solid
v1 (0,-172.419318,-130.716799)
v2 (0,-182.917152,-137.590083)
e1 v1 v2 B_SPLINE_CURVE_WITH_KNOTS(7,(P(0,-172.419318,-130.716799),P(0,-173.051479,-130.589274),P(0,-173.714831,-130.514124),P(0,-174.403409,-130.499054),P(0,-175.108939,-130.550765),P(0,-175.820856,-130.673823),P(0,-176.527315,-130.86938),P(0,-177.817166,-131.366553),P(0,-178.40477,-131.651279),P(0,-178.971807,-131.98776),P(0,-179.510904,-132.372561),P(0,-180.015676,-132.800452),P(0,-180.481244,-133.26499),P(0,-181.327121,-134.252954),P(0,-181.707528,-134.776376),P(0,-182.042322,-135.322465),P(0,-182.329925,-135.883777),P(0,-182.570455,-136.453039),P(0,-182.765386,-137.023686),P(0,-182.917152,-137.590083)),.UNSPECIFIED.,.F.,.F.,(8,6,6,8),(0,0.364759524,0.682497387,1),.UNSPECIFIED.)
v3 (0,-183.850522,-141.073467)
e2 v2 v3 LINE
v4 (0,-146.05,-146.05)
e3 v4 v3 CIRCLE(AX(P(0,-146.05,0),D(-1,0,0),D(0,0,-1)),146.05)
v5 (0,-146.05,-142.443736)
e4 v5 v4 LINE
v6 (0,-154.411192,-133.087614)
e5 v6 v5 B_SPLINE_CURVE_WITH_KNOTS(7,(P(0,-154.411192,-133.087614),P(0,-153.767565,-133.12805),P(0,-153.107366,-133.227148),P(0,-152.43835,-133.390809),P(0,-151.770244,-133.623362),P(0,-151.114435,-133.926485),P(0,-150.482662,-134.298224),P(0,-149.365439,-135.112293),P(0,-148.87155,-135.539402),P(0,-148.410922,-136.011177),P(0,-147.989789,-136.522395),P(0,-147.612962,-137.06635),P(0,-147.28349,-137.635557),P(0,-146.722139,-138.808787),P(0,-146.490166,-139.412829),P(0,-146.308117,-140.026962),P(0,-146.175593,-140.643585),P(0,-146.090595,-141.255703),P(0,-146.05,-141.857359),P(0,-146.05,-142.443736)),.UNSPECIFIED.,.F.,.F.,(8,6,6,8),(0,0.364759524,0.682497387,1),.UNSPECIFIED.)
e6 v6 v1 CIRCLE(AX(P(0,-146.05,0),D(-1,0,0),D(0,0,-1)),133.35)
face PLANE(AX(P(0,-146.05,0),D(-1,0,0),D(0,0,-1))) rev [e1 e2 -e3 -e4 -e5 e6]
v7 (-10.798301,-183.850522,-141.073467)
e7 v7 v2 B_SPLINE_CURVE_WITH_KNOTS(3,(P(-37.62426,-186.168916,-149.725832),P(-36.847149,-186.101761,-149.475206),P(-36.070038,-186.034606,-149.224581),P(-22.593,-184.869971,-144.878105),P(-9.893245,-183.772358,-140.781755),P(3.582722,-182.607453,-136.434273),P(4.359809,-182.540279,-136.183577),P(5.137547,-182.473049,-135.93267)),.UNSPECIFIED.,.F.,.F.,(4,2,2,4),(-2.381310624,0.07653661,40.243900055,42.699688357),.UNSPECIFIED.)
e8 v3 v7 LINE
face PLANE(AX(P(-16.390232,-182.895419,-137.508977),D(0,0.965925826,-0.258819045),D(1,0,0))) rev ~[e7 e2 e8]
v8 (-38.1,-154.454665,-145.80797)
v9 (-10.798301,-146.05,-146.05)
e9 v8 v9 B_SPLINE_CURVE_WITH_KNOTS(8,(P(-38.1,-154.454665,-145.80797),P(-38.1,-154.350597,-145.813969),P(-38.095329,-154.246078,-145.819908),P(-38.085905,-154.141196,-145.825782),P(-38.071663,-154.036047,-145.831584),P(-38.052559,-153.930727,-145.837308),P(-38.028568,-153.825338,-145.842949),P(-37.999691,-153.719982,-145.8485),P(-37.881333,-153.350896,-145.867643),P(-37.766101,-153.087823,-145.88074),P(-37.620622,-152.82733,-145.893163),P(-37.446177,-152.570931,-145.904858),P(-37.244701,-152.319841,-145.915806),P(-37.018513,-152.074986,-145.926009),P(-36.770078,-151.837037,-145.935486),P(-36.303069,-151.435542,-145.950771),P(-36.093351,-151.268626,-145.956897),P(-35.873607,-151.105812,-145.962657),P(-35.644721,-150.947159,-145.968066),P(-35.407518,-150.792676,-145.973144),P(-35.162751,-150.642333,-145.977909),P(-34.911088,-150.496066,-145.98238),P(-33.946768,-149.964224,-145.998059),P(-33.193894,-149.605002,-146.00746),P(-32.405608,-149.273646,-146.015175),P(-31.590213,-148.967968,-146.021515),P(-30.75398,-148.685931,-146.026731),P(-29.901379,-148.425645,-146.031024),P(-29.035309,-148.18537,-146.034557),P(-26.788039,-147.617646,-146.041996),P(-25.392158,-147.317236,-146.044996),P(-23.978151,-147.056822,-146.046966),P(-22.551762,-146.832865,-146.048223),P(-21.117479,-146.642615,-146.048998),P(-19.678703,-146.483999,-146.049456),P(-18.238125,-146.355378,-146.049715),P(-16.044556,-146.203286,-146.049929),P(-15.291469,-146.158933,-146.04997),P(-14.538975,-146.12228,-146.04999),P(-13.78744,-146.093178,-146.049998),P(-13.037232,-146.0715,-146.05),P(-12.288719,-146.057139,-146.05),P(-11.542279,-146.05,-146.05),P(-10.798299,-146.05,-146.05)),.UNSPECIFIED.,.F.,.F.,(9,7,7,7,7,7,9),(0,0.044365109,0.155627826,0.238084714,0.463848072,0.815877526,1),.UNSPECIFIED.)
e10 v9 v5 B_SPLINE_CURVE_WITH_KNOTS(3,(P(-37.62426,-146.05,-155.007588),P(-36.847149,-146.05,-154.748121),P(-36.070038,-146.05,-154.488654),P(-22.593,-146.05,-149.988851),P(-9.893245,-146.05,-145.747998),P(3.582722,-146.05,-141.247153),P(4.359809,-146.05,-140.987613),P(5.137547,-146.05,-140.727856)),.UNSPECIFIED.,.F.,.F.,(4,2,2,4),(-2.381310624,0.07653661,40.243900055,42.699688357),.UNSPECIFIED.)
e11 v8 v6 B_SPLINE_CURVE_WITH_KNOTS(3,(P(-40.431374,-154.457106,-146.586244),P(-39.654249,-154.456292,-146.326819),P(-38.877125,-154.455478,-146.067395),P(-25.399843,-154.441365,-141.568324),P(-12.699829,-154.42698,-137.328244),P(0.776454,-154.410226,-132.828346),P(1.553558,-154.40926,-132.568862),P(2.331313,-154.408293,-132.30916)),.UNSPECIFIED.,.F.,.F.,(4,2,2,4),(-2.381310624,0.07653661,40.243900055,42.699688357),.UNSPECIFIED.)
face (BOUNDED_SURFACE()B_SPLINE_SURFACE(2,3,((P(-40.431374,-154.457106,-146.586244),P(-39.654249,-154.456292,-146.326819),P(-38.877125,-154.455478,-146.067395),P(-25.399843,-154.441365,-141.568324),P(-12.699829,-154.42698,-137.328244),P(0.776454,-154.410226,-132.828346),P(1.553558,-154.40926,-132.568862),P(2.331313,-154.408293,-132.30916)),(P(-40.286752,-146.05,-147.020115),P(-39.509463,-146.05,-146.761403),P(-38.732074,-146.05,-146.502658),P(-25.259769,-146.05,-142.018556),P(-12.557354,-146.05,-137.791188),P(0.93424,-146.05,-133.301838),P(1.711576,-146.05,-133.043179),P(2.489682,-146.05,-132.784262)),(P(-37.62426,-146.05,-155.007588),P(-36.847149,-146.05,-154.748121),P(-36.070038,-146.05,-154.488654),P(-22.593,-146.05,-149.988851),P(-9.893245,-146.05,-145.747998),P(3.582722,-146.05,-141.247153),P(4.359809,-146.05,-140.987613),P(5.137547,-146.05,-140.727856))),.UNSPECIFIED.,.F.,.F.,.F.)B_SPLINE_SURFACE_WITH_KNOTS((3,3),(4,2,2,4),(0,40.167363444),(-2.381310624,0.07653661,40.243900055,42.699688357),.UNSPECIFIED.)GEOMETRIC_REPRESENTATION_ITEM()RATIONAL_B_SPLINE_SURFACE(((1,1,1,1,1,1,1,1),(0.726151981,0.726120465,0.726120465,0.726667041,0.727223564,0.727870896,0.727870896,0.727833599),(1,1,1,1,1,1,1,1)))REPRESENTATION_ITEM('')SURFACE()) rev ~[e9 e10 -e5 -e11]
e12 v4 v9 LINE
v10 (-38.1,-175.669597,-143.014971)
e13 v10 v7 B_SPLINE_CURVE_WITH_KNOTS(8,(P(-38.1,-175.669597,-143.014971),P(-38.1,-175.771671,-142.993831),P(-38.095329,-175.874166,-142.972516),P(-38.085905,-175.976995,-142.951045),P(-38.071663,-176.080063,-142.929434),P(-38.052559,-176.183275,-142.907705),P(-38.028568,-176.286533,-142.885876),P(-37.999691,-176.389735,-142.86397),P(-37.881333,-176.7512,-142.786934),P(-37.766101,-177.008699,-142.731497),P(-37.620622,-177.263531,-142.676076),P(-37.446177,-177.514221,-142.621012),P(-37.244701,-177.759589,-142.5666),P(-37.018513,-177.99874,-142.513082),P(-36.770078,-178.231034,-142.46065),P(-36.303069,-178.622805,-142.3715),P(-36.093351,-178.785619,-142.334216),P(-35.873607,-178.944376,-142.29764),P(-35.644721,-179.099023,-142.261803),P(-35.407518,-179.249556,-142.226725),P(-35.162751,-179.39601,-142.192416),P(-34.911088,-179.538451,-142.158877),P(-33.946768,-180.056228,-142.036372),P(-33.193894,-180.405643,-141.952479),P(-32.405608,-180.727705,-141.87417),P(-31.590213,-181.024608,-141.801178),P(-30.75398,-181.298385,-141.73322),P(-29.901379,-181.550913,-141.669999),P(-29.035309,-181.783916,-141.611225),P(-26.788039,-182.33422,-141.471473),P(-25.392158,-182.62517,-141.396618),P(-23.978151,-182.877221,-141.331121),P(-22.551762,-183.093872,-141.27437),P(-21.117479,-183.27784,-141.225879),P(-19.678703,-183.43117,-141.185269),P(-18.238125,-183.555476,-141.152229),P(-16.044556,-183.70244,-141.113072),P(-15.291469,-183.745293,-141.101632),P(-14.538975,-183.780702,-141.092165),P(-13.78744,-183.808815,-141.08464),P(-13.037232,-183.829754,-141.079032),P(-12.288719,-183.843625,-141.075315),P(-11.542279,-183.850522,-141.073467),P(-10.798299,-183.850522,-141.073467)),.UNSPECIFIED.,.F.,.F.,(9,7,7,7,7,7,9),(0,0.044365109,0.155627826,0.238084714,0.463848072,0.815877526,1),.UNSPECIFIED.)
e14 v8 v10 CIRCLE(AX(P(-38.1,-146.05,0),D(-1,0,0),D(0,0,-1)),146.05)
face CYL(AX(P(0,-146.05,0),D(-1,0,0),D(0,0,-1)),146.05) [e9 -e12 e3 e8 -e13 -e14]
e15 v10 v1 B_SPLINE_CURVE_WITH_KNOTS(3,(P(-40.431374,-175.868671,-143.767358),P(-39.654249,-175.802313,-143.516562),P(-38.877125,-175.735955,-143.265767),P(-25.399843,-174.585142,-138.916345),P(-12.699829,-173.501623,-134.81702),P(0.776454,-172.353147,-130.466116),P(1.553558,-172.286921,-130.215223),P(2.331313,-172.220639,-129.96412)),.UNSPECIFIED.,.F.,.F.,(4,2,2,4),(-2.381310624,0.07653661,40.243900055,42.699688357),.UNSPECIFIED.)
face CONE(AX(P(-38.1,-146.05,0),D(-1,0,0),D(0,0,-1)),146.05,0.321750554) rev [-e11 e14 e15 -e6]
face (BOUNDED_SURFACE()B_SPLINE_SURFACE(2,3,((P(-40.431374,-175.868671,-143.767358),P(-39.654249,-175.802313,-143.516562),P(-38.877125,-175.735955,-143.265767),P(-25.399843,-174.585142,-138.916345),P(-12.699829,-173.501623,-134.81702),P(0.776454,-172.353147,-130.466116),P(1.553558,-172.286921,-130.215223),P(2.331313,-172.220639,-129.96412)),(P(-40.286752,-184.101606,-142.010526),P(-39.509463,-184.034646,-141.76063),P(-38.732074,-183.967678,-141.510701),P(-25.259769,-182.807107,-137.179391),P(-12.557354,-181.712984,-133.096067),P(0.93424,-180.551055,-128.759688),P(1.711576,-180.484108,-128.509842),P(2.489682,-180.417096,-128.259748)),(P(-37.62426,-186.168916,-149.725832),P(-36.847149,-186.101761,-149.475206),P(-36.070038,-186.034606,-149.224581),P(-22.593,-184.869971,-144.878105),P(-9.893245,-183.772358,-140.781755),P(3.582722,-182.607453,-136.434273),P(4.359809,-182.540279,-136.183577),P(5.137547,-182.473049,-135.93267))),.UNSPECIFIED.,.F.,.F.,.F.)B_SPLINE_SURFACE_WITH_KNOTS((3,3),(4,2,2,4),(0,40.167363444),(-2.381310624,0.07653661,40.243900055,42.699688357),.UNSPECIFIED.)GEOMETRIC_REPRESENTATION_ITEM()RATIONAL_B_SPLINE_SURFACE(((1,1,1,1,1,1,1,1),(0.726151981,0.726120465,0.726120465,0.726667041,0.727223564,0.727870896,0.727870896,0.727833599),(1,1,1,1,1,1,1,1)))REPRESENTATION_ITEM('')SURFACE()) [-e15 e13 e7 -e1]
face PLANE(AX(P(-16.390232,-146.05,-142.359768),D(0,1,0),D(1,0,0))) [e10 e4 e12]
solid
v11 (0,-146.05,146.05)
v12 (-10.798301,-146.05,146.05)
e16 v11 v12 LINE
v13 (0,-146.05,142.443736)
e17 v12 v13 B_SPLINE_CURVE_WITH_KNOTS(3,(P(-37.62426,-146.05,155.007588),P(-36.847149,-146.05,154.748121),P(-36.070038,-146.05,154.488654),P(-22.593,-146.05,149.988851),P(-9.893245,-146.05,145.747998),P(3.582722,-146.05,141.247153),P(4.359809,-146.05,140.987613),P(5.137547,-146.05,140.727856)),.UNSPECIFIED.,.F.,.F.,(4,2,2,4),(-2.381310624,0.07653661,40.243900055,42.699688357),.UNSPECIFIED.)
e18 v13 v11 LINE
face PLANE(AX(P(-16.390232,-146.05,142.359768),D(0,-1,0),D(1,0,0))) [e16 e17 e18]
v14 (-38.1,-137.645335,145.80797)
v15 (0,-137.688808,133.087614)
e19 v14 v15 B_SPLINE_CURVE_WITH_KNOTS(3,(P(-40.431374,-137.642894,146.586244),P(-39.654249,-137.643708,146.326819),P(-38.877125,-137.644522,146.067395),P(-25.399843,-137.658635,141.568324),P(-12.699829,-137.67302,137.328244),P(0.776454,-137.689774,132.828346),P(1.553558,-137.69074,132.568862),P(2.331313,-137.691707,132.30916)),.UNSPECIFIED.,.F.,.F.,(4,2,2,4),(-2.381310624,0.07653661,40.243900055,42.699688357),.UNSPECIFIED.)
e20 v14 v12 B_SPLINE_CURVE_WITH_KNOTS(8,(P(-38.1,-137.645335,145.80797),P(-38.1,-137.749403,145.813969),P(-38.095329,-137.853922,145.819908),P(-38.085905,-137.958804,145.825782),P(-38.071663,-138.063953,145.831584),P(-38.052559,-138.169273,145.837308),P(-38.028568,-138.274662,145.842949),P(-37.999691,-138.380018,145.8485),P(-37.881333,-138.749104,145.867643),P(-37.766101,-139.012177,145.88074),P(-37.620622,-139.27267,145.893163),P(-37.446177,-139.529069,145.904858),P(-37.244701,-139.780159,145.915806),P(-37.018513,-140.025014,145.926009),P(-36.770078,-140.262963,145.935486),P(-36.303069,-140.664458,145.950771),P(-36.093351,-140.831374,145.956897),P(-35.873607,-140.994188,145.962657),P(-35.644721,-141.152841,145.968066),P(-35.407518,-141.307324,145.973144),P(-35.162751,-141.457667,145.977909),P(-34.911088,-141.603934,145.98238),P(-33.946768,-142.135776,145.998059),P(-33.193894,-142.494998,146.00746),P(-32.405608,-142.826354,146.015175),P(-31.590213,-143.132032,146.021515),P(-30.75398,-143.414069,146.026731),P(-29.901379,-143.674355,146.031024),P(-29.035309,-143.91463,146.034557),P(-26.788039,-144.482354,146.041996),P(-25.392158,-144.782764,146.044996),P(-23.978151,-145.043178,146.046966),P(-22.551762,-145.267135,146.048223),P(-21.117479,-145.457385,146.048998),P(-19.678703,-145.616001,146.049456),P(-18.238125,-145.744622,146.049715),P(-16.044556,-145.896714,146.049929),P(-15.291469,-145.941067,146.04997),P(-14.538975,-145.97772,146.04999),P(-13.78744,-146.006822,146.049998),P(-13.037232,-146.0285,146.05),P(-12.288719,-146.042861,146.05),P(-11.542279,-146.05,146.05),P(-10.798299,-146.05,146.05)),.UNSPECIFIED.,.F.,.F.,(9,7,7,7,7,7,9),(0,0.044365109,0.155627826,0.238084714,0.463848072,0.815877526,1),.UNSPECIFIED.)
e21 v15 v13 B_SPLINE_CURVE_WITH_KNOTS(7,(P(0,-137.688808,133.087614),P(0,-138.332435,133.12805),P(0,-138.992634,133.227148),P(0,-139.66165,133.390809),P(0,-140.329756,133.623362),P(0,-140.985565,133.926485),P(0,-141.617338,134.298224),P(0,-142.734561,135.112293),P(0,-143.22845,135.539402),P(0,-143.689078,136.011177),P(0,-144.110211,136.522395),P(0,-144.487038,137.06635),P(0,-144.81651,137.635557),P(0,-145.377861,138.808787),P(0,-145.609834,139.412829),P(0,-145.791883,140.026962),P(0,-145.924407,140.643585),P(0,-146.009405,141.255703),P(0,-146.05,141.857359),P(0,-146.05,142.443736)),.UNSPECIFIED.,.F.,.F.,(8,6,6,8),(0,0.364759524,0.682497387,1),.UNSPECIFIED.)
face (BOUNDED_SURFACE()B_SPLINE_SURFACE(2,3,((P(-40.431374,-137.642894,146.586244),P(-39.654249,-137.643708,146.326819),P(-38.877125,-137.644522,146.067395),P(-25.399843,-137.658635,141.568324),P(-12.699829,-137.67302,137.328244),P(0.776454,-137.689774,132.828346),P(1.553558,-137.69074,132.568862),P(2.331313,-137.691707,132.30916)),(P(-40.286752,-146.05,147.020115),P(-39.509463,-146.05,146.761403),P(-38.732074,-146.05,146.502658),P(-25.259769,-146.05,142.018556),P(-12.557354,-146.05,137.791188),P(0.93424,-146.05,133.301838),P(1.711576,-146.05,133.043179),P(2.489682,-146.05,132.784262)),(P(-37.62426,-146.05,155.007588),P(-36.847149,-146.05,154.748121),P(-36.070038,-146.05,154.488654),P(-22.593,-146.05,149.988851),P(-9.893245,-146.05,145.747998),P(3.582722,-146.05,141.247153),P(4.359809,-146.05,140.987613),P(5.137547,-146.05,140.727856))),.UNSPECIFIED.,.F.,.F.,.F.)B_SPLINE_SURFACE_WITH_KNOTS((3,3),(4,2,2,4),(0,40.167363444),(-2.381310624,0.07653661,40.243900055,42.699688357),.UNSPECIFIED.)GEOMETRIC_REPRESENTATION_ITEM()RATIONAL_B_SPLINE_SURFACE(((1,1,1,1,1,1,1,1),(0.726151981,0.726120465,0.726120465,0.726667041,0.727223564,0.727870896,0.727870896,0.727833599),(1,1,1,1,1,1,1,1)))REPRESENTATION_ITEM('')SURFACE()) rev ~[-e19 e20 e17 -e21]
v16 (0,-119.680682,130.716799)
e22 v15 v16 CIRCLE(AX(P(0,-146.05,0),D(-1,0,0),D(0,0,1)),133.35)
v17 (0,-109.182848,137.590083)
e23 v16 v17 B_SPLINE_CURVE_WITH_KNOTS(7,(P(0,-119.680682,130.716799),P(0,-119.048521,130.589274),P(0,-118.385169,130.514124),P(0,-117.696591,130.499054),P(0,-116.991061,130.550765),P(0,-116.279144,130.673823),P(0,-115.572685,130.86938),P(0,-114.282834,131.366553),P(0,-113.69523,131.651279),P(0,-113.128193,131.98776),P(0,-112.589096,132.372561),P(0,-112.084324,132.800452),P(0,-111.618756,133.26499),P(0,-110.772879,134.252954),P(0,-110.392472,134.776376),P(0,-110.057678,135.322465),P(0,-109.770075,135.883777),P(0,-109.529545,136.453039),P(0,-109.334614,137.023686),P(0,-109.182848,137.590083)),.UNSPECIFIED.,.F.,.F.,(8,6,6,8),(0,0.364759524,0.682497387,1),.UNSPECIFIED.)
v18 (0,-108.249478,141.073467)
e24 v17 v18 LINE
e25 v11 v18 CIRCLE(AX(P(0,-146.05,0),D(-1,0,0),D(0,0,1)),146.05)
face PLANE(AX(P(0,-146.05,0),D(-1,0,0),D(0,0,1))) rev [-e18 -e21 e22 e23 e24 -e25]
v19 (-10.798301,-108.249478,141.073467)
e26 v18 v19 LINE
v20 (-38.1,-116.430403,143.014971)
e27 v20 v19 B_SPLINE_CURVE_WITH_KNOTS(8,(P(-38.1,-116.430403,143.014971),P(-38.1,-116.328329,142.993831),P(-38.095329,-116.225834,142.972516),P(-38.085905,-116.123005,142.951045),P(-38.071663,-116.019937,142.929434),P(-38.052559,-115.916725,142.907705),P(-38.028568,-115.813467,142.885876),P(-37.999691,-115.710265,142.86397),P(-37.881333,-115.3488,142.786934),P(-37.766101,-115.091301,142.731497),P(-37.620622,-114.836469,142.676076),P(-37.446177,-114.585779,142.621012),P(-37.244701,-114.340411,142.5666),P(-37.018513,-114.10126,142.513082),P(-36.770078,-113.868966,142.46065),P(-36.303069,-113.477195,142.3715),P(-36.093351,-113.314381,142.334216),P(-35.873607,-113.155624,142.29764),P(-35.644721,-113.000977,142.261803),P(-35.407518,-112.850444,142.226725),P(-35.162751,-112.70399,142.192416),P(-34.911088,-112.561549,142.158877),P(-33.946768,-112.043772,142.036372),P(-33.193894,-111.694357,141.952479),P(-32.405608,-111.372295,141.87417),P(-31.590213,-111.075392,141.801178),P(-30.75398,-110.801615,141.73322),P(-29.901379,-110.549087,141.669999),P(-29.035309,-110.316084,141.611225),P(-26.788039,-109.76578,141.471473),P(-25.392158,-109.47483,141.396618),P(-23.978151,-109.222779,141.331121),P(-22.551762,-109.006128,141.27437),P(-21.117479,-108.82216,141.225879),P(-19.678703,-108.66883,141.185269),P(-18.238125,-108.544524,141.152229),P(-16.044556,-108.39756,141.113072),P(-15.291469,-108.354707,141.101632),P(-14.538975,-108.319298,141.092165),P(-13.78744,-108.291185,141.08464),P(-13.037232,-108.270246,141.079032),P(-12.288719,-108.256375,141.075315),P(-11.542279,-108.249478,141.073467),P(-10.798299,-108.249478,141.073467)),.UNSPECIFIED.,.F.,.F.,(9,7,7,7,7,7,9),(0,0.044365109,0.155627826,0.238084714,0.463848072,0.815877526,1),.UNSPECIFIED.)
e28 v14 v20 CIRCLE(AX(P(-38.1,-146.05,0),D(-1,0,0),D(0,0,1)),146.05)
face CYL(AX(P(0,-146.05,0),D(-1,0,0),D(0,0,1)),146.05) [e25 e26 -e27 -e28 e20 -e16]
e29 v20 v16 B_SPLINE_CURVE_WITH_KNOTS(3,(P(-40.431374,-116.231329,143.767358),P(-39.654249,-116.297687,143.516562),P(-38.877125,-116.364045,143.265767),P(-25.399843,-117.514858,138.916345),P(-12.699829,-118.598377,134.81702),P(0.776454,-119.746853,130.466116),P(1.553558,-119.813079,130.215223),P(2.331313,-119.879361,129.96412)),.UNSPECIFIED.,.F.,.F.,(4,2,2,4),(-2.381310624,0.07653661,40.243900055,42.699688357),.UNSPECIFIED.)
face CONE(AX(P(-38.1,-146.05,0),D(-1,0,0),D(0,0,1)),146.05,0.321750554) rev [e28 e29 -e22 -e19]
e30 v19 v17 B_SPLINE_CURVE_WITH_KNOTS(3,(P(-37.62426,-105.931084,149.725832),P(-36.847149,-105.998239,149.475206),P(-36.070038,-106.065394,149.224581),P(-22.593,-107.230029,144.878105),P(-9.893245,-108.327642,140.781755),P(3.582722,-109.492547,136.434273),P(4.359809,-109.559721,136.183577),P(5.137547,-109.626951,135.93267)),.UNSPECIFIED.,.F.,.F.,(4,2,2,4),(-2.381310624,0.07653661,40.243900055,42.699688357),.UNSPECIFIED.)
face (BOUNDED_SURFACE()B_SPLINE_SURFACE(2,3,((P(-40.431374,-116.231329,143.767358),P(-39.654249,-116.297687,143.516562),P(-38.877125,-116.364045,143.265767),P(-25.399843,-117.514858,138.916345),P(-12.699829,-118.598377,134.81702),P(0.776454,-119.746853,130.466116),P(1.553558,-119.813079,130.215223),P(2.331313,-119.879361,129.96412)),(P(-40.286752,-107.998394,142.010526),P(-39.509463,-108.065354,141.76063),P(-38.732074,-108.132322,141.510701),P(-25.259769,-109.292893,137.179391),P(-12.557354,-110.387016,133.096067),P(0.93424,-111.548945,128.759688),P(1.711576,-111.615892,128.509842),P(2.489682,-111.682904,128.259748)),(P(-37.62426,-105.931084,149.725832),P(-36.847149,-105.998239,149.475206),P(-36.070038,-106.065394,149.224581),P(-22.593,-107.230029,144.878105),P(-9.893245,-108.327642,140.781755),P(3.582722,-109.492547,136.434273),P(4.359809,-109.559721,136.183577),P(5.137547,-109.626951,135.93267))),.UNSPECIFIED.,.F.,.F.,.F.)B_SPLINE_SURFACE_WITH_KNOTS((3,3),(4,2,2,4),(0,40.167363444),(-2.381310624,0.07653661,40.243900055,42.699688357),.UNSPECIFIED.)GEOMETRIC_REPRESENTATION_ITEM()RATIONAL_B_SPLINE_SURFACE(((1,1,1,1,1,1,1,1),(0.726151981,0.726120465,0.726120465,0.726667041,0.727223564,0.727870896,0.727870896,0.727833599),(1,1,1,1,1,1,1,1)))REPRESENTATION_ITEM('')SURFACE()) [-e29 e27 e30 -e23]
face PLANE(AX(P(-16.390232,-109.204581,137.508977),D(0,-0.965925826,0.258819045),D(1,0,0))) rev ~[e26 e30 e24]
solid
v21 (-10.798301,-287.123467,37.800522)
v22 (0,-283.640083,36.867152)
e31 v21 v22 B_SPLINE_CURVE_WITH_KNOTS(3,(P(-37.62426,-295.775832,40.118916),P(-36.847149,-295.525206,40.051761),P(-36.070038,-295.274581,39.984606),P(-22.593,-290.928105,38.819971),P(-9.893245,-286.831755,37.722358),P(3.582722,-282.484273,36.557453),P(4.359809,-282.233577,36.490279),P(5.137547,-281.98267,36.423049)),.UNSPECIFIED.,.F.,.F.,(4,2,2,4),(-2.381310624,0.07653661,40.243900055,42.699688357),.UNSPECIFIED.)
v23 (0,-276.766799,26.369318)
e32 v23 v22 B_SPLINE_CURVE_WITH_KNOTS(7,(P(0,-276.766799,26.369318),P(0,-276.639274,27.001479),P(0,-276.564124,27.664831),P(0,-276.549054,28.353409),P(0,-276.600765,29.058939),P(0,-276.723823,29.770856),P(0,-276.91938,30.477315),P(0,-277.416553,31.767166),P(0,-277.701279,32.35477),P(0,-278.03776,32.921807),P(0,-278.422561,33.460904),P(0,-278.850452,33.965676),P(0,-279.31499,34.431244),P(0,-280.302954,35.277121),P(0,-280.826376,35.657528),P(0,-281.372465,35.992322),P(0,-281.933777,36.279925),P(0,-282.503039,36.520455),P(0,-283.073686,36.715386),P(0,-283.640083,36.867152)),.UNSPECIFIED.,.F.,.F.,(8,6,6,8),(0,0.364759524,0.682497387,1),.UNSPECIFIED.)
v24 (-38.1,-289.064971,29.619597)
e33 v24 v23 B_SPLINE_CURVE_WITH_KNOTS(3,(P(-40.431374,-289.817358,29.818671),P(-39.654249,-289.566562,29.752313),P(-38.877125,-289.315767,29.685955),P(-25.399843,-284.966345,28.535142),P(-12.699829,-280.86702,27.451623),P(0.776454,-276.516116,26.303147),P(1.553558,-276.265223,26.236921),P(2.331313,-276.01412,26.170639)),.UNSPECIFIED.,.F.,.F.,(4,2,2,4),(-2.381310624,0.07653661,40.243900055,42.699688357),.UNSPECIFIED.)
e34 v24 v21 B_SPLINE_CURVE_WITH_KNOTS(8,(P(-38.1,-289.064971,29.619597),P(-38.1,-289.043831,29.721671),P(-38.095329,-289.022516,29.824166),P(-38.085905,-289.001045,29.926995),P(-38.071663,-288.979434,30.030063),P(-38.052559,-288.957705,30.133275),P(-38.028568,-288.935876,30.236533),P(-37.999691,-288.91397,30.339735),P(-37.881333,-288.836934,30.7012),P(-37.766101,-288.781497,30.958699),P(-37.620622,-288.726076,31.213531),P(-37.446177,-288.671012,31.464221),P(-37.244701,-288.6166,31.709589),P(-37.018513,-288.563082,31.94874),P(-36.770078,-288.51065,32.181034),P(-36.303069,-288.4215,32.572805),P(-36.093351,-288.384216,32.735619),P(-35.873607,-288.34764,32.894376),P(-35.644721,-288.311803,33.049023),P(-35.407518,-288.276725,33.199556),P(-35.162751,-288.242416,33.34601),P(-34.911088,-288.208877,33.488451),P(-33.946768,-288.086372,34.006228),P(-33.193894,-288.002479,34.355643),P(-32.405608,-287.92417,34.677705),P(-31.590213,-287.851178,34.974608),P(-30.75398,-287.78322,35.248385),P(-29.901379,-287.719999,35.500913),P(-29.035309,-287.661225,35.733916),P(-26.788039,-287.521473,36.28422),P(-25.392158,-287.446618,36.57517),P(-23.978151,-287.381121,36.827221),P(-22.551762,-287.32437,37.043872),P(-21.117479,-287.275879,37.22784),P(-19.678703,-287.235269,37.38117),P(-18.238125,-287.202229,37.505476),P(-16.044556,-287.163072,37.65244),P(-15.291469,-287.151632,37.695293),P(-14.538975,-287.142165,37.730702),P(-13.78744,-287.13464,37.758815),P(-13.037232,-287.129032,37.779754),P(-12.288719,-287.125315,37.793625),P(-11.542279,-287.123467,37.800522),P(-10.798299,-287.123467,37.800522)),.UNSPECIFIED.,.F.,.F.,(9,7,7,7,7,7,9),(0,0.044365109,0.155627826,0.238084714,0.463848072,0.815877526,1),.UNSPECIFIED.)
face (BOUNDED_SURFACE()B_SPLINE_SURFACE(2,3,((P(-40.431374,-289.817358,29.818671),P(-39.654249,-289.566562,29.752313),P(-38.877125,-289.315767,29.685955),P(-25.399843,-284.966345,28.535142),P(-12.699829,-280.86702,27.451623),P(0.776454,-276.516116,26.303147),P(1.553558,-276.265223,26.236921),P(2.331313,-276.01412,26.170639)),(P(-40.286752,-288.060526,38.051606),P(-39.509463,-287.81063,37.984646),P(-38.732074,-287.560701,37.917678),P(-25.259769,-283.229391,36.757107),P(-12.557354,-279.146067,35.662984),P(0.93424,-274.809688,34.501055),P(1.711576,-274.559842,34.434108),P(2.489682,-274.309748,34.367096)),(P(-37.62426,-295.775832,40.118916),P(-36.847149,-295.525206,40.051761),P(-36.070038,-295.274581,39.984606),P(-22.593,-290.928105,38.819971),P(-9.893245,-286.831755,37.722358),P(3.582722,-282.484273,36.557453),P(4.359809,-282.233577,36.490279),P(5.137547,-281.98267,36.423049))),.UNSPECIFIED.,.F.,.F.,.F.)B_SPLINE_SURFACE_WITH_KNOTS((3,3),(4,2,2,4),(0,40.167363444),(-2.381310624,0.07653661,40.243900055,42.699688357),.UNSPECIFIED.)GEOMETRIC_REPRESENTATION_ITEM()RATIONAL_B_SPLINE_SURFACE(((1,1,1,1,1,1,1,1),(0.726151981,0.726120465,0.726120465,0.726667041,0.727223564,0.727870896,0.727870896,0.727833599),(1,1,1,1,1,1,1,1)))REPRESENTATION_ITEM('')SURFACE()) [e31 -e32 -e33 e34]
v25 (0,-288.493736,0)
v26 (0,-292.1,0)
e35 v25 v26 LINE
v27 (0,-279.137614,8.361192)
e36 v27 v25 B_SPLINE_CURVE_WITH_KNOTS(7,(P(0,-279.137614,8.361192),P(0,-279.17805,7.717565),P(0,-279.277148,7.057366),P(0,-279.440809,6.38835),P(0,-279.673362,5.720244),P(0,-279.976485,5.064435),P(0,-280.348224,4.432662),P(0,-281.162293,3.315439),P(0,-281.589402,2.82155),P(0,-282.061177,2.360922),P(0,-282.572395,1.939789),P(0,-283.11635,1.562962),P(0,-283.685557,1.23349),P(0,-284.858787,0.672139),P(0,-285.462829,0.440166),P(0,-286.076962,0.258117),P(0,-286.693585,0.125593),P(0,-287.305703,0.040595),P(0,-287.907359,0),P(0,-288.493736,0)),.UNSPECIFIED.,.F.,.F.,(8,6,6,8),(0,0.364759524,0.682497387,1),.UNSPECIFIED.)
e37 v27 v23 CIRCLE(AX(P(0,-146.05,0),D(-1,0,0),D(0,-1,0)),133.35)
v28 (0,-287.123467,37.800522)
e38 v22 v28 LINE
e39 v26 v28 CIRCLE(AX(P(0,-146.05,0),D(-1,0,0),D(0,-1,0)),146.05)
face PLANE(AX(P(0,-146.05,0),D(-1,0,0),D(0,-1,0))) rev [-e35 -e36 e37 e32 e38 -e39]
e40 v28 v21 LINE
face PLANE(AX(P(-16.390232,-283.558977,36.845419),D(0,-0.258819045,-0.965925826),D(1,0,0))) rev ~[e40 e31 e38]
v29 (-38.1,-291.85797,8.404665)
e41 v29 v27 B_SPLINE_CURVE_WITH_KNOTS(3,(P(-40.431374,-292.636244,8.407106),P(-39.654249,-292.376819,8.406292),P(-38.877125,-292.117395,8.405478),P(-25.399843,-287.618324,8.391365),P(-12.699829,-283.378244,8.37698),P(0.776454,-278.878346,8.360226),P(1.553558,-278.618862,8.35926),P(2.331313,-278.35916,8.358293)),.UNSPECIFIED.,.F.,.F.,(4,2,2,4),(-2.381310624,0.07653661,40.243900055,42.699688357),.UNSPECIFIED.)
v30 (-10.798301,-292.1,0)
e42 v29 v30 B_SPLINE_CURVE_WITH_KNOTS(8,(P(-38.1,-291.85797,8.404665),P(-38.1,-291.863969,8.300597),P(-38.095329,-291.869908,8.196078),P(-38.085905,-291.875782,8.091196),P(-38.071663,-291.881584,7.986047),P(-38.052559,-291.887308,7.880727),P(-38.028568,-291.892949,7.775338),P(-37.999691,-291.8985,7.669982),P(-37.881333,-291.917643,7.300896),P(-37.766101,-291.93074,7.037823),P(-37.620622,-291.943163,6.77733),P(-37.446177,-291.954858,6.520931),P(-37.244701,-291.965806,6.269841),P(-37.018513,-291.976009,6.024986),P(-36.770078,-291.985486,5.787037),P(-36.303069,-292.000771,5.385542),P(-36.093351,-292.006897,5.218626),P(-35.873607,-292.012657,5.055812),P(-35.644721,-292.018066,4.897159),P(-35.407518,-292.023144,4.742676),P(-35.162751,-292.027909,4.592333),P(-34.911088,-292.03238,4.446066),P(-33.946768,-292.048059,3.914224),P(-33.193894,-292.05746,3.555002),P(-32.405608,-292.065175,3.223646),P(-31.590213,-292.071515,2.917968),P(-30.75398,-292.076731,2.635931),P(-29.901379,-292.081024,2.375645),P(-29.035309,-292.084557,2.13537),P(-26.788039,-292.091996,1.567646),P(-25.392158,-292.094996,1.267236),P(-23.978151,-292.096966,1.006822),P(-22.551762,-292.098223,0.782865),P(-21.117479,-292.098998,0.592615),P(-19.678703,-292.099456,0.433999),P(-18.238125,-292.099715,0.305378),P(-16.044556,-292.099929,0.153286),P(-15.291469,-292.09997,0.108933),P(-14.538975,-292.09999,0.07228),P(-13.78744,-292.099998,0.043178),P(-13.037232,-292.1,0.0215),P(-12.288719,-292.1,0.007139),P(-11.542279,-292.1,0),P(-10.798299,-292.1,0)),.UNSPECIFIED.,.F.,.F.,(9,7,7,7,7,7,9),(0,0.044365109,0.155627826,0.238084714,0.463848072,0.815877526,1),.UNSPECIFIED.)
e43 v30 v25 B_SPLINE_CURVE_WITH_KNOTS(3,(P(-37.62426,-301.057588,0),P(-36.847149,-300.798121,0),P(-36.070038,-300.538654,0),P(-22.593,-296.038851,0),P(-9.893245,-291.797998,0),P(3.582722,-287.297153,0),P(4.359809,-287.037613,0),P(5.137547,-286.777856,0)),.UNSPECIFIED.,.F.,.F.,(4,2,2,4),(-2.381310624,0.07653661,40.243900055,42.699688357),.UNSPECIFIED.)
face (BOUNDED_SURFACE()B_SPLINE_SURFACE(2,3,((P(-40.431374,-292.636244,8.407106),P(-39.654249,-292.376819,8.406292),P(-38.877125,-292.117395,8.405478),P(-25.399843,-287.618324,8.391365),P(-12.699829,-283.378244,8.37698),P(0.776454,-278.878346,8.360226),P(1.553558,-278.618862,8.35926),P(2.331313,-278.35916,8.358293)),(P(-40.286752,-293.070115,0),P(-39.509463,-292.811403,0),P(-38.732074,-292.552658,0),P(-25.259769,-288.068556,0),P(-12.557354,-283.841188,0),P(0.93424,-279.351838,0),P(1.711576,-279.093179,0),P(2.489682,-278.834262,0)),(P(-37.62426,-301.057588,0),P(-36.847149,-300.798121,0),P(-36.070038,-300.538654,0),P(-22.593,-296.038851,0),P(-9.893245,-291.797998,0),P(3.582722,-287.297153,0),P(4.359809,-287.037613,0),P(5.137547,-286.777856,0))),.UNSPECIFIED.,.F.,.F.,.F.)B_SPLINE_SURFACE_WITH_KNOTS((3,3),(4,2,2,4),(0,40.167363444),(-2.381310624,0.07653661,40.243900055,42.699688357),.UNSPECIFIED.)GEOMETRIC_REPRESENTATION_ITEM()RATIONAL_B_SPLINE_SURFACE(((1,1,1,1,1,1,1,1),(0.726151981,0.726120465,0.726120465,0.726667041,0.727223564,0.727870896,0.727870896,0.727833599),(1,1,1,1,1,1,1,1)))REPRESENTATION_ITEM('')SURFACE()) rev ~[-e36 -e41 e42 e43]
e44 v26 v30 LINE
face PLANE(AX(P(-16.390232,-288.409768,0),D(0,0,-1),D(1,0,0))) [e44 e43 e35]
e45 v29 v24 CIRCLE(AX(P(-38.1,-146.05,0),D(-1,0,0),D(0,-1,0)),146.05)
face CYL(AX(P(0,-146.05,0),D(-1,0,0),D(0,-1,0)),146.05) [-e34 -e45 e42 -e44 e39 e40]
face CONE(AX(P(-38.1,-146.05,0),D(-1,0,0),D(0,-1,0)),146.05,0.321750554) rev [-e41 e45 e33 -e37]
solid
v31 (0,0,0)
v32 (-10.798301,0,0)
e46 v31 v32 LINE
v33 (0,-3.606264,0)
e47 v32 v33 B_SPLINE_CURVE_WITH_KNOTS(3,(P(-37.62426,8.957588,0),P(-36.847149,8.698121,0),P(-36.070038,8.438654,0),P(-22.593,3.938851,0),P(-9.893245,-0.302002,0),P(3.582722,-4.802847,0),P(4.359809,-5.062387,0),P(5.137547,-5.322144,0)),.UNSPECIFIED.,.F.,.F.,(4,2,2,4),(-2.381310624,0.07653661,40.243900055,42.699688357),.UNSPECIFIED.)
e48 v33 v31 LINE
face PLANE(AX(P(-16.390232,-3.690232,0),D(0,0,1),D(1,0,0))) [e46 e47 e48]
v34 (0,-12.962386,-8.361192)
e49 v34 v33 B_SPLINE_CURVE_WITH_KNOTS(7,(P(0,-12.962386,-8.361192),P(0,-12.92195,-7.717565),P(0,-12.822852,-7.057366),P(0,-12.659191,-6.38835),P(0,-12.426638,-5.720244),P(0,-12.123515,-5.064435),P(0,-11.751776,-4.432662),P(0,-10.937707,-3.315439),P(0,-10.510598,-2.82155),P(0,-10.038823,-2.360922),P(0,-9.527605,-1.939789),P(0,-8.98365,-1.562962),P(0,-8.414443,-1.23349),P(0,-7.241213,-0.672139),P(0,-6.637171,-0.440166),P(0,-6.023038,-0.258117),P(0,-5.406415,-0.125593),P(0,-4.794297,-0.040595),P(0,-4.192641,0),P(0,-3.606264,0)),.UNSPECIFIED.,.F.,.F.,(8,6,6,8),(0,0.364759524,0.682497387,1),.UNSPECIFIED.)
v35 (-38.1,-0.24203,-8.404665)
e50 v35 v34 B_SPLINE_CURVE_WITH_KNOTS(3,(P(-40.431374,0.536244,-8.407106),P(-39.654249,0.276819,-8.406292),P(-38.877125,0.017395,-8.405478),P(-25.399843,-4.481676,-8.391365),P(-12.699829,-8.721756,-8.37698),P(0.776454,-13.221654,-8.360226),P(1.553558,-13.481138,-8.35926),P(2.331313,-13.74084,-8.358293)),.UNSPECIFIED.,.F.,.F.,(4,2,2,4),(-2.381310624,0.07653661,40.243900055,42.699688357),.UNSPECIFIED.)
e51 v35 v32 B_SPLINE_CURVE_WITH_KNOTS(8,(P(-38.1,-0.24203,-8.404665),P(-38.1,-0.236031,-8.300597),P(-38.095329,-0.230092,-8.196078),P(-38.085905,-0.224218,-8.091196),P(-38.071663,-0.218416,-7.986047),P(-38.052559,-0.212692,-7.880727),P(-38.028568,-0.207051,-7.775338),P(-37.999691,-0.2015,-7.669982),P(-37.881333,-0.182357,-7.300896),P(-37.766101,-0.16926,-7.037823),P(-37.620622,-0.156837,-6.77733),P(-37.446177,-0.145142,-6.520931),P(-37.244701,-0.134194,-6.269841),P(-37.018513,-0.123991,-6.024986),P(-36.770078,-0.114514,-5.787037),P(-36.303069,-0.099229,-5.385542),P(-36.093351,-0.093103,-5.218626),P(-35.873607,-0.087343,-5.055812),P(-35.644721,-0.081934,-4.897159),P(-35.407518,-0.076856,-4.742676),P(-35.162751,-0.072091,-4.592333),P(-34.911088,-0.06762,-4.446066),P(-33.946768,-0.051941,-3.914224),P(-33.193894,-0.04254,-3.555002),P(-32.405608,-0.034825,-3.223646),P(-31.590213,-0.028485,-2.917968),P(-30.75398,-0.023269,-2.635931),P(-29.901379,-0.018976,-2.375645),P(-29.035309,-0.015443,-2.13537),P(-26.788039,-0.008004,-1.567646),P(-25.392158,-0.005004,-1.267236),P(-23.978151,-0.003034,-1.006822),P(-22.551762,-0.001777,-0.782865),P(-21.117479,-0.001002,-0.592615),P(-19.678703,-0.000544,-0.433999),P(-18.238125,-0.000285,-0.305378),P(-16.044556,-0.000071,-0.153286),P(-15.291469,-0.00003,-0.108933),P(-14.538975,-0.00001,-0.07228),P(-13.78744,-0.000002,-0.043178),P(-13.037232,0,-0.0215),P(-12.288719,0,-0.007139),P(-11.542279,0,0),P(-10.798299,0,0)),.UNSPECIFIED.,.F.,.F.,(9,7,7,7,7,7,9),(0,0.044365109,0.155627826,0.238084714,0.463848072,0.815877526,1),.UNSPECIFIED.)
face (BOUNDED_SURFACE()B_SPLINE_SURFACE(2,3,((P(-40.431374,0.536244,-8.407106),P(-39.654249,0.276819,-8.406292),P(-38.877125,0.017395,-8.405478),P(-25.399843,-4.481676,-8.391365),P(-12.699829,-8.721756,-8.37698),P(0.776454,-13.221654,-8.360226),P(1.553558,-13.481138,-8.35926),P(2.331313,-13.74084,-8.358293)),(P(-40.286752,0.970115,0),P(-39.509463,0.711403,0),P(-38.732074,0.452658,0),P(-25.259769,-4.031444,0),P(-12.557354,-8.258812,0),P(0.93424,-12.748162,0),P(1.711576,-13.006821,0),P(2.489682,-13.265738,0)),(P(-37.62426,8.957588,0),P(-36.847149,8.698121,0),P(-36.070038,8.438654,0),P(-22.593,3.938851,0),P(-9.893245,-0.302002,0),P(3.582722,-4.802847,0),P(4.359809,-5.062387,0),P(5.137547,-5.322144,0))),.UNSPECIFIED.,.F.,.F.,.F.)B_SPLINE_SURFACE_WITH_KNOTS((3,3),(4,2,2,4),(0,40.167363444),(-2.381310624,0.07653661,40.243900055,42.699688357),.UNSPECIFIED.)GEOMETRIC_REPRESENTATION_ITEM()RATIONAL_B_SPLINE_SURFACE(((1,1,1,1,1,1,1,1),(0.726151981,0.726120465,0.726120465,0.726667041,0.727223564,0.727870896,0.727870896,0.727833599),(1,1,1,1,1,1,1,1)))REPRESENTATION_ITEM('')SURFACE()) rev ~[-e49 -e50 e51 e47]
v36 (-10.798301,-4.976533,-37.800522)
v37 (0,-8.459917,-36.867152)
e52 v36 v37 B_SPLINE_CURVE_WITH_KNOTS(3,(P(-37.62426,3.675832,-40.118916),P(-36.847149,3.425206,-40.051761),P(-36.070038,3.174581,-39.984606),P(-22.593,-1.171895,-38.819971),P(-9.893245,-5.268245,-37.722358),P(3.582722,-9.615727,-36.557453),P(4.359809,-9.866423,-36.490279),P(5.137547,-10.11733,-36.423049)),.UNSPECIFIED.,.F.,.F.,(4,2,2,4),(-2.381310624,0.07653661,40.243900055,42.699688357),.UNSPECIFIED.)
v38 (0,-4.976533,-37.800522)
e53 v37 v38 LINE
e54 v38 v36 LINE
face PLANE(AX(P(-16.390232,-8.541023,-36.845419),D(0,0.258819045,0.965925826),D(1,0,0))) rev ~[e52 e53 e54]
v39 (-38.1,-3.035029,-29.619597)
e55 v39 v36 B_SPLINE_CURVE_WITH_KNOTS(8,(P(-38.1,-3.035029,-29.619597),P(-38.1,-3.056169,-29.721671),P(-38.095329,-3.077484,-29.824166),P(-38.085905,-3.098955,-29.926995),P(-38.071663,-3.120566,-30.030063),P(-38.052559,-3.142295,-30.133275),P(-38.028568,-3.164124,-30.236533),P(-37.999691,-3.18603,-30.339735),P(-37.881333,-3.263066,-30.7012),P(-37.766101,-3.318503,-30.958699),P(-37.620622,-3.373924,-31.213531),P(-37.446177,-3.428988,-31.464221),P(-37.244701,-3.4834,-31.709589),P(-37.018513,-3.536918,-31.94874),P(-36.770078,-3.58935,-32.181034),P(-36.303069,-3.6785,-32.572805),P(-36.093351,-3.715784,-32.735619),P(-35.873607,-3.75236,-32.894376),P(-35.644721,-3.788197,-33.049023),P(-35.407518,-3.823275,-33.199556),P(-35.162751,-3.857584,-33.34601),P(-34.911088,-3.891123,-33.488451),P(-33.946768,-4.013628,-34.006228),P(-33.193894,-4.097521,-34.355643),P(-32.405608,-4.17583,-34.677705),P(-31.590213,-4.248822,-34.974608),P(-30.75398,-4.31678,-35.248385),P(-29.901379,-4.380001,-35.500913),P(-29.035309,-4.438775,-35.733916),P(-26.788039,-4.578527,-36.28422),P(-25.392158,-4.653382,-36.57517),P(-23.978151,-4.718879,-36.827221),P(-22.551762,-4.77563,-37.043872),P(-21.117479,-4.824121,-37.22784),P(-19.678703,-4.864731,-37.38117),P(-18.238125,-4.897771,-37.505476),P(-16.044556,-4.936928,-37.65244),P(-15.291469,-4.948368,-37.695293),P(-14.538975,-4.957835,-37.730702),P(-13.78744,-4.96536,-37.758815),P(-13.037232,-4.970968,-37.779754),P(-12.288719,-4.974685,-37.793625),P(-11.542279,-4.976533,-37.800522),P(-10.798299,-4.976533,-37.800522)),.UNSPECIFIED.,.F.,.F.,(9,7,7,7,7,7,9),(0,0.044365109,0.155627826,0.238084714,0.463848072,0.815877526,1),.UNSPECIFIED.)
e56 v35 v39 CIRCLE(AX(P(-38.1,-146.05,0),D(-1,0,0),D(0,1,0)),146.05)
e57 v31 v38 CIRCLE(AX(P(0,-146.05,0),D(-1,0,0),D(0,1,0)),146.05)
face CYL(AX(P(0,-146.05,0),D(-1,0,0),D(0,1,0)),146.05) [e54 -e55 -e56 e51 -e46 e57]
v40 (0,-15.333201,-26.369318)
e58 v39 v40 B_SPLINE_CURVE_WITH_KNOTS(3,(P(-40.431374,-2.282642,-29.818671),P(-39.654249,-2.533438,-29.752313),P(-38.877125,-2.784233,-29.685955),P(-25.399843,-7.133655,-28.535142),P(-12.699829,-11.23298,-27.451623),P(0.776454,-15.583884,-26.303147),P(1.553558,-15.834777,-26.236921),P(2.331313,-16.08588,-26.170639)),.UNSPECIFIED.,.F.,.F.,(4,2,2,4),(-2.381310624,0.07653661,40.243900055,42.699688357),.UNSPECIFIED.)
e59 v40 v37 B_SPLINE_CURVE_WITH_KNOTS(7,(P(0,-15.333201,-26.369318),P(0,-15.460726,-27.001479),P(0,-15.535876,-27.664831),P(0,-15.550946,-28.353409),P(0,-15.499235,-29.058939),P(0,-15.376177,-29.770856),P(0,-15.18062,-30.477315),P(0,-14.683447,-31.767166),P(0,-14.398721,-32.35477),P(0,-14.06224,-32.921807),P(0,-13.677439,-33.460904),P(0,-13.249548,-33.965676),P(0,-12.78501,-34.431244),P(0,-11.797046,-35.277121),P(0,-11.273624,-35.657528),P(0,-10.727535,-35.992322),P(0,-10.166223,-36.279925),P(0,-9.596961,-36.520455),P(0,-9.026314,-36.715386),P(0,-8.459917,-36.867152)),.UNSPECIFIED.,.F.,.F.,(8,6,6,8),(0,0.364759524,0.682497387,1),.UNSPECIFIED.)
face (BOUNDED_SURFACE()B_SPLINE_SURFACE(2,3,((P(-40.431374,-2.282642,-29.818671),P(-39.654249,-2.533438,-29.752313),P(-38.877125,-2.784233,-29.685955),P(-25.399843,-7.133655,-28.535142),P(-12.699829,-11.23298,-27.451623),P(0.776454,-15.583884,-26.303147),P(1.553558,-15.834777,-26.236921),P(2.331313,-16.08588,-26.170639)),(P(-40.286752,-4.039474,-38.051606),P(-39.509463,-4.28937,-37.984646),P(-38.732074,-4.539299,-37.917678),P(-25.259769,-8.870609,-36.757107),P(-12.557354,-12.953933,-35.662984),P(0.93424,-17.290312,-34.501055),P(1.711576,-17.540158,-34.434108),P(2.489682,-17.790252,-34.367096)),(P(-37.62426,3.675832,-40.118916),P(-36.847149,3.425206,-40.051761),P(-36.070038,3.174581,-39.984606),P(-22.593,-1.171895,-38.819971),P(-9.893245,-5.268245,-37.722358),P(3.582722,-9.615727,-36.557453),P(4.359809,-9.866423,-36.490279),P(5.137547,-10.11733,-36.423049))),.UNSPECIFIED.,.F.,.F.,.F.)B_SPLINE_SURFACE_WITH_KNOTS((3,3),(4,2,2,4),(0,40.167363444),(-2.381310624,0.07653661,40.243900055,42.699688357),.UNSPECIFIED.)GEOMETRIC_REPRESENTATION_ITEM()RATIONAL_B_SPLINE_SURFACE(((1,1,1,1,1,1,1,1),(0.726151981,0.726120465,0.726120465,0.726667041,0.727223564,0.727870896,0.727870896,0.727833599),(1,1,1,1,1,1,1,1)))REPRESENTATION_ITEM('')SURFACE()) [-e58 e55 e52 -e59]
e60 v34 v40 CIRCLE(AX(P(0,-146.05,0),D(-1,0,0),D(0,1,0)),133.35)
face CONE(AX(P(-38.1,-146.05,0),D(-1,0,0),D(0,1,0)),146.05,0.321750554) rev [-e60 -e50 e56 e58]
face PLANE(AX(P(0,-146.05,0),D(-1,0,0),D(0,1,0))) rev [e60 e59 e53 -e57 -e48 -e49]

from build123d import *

# Parameters (mm, degrees)
REVOLVE1_ANGLE    = 15
CIRPATTERN1_COUNT = 4
FILLET1_R         = 8.89
FILLET2_R         = 8.89
FILLET3_R         = 8.89
FILLET4_R         = 8.89


with BuildPart() as part:
    # Sketch1 → Revolve1 (revolve)
    with BuildSketch(Plane.XY):
        Polygon((0, 0), (-38.1, 0), (0, -12.7), align=None)
    revolve(axis=Axis((0, -146.05, 0), (-1, 0, 0)), revolution_arc=REVOLVE1_ANGLE)


with BuildPart() as cirpattern1_1:
    # CirPattern1: pattern copy
    add(part.part.rotate(Axis((0, -146.05, 0), (-1, 0, 0)), 1 * 360 / CIRPATTERN1_COUNT))

    # Fillet4
    fillet4_edges = [cirpattern1_1.edges().sort_by_distance(p)[0] for p in [
        (-19.05, -182.207020601, -134.939837933),
        (-19.05, -146.05, -139.7),
    ]]
    fillet(fillet4_edges, radius=FILLET4_R)


with BuildPart() as cirpattern1_2:
    # CirPattern1: pattern copy
    add(part.part.rotate(Axis((0, -146.05, 0), (-1, 0, 0)), 2 * 360 / CIRPATTERN1_COUNT))

    # Fillet3
    fillet3_edges = [cirpattern1_2.edges().sort_by_distance(p)[0] for p in [
        (-19.05, -280.989837933, 36.157020601),
        (-19.05, -285.75, 0),
    ]]
    fillet(fillet3_edges, radius=FILLET3_R)


with BuildPart() as cirpattern1_3:
    # CirPattern1: pattern copy
    add(part.part.rotate(Axis((0, -146.05, 0), (-1, 0, 0)), 3 * 360 / CIRPATTERN1_COUNT))

    # Fillet2
    fillet2_edges = [cirpattern1_3.edges().sort_by_distance(p)[0] for p in [
        (-19.05, -109.892979399, 134.939837933),
        (-19.05, -146.05, 139.7),
    ]]
    fillet(fillet2_edges, radius=FILLET2_R)


with BuildPart() as part_1:
    add(part.part)

    # Fillet1
    fillet1_edges = [part_1.edges().sort_by_distance(p)[0] for p in [
        (-19.05, -11.110162067, -36.157020601),
        (-19.05, -6.35, 0),
    ]]
    fillet(fillet1_edges, radius=FILLET1_R)


solid = Compound([cirpattern1_1.part, cirpattern1_2.part, cirpattern1_3.part, part_1.part])
